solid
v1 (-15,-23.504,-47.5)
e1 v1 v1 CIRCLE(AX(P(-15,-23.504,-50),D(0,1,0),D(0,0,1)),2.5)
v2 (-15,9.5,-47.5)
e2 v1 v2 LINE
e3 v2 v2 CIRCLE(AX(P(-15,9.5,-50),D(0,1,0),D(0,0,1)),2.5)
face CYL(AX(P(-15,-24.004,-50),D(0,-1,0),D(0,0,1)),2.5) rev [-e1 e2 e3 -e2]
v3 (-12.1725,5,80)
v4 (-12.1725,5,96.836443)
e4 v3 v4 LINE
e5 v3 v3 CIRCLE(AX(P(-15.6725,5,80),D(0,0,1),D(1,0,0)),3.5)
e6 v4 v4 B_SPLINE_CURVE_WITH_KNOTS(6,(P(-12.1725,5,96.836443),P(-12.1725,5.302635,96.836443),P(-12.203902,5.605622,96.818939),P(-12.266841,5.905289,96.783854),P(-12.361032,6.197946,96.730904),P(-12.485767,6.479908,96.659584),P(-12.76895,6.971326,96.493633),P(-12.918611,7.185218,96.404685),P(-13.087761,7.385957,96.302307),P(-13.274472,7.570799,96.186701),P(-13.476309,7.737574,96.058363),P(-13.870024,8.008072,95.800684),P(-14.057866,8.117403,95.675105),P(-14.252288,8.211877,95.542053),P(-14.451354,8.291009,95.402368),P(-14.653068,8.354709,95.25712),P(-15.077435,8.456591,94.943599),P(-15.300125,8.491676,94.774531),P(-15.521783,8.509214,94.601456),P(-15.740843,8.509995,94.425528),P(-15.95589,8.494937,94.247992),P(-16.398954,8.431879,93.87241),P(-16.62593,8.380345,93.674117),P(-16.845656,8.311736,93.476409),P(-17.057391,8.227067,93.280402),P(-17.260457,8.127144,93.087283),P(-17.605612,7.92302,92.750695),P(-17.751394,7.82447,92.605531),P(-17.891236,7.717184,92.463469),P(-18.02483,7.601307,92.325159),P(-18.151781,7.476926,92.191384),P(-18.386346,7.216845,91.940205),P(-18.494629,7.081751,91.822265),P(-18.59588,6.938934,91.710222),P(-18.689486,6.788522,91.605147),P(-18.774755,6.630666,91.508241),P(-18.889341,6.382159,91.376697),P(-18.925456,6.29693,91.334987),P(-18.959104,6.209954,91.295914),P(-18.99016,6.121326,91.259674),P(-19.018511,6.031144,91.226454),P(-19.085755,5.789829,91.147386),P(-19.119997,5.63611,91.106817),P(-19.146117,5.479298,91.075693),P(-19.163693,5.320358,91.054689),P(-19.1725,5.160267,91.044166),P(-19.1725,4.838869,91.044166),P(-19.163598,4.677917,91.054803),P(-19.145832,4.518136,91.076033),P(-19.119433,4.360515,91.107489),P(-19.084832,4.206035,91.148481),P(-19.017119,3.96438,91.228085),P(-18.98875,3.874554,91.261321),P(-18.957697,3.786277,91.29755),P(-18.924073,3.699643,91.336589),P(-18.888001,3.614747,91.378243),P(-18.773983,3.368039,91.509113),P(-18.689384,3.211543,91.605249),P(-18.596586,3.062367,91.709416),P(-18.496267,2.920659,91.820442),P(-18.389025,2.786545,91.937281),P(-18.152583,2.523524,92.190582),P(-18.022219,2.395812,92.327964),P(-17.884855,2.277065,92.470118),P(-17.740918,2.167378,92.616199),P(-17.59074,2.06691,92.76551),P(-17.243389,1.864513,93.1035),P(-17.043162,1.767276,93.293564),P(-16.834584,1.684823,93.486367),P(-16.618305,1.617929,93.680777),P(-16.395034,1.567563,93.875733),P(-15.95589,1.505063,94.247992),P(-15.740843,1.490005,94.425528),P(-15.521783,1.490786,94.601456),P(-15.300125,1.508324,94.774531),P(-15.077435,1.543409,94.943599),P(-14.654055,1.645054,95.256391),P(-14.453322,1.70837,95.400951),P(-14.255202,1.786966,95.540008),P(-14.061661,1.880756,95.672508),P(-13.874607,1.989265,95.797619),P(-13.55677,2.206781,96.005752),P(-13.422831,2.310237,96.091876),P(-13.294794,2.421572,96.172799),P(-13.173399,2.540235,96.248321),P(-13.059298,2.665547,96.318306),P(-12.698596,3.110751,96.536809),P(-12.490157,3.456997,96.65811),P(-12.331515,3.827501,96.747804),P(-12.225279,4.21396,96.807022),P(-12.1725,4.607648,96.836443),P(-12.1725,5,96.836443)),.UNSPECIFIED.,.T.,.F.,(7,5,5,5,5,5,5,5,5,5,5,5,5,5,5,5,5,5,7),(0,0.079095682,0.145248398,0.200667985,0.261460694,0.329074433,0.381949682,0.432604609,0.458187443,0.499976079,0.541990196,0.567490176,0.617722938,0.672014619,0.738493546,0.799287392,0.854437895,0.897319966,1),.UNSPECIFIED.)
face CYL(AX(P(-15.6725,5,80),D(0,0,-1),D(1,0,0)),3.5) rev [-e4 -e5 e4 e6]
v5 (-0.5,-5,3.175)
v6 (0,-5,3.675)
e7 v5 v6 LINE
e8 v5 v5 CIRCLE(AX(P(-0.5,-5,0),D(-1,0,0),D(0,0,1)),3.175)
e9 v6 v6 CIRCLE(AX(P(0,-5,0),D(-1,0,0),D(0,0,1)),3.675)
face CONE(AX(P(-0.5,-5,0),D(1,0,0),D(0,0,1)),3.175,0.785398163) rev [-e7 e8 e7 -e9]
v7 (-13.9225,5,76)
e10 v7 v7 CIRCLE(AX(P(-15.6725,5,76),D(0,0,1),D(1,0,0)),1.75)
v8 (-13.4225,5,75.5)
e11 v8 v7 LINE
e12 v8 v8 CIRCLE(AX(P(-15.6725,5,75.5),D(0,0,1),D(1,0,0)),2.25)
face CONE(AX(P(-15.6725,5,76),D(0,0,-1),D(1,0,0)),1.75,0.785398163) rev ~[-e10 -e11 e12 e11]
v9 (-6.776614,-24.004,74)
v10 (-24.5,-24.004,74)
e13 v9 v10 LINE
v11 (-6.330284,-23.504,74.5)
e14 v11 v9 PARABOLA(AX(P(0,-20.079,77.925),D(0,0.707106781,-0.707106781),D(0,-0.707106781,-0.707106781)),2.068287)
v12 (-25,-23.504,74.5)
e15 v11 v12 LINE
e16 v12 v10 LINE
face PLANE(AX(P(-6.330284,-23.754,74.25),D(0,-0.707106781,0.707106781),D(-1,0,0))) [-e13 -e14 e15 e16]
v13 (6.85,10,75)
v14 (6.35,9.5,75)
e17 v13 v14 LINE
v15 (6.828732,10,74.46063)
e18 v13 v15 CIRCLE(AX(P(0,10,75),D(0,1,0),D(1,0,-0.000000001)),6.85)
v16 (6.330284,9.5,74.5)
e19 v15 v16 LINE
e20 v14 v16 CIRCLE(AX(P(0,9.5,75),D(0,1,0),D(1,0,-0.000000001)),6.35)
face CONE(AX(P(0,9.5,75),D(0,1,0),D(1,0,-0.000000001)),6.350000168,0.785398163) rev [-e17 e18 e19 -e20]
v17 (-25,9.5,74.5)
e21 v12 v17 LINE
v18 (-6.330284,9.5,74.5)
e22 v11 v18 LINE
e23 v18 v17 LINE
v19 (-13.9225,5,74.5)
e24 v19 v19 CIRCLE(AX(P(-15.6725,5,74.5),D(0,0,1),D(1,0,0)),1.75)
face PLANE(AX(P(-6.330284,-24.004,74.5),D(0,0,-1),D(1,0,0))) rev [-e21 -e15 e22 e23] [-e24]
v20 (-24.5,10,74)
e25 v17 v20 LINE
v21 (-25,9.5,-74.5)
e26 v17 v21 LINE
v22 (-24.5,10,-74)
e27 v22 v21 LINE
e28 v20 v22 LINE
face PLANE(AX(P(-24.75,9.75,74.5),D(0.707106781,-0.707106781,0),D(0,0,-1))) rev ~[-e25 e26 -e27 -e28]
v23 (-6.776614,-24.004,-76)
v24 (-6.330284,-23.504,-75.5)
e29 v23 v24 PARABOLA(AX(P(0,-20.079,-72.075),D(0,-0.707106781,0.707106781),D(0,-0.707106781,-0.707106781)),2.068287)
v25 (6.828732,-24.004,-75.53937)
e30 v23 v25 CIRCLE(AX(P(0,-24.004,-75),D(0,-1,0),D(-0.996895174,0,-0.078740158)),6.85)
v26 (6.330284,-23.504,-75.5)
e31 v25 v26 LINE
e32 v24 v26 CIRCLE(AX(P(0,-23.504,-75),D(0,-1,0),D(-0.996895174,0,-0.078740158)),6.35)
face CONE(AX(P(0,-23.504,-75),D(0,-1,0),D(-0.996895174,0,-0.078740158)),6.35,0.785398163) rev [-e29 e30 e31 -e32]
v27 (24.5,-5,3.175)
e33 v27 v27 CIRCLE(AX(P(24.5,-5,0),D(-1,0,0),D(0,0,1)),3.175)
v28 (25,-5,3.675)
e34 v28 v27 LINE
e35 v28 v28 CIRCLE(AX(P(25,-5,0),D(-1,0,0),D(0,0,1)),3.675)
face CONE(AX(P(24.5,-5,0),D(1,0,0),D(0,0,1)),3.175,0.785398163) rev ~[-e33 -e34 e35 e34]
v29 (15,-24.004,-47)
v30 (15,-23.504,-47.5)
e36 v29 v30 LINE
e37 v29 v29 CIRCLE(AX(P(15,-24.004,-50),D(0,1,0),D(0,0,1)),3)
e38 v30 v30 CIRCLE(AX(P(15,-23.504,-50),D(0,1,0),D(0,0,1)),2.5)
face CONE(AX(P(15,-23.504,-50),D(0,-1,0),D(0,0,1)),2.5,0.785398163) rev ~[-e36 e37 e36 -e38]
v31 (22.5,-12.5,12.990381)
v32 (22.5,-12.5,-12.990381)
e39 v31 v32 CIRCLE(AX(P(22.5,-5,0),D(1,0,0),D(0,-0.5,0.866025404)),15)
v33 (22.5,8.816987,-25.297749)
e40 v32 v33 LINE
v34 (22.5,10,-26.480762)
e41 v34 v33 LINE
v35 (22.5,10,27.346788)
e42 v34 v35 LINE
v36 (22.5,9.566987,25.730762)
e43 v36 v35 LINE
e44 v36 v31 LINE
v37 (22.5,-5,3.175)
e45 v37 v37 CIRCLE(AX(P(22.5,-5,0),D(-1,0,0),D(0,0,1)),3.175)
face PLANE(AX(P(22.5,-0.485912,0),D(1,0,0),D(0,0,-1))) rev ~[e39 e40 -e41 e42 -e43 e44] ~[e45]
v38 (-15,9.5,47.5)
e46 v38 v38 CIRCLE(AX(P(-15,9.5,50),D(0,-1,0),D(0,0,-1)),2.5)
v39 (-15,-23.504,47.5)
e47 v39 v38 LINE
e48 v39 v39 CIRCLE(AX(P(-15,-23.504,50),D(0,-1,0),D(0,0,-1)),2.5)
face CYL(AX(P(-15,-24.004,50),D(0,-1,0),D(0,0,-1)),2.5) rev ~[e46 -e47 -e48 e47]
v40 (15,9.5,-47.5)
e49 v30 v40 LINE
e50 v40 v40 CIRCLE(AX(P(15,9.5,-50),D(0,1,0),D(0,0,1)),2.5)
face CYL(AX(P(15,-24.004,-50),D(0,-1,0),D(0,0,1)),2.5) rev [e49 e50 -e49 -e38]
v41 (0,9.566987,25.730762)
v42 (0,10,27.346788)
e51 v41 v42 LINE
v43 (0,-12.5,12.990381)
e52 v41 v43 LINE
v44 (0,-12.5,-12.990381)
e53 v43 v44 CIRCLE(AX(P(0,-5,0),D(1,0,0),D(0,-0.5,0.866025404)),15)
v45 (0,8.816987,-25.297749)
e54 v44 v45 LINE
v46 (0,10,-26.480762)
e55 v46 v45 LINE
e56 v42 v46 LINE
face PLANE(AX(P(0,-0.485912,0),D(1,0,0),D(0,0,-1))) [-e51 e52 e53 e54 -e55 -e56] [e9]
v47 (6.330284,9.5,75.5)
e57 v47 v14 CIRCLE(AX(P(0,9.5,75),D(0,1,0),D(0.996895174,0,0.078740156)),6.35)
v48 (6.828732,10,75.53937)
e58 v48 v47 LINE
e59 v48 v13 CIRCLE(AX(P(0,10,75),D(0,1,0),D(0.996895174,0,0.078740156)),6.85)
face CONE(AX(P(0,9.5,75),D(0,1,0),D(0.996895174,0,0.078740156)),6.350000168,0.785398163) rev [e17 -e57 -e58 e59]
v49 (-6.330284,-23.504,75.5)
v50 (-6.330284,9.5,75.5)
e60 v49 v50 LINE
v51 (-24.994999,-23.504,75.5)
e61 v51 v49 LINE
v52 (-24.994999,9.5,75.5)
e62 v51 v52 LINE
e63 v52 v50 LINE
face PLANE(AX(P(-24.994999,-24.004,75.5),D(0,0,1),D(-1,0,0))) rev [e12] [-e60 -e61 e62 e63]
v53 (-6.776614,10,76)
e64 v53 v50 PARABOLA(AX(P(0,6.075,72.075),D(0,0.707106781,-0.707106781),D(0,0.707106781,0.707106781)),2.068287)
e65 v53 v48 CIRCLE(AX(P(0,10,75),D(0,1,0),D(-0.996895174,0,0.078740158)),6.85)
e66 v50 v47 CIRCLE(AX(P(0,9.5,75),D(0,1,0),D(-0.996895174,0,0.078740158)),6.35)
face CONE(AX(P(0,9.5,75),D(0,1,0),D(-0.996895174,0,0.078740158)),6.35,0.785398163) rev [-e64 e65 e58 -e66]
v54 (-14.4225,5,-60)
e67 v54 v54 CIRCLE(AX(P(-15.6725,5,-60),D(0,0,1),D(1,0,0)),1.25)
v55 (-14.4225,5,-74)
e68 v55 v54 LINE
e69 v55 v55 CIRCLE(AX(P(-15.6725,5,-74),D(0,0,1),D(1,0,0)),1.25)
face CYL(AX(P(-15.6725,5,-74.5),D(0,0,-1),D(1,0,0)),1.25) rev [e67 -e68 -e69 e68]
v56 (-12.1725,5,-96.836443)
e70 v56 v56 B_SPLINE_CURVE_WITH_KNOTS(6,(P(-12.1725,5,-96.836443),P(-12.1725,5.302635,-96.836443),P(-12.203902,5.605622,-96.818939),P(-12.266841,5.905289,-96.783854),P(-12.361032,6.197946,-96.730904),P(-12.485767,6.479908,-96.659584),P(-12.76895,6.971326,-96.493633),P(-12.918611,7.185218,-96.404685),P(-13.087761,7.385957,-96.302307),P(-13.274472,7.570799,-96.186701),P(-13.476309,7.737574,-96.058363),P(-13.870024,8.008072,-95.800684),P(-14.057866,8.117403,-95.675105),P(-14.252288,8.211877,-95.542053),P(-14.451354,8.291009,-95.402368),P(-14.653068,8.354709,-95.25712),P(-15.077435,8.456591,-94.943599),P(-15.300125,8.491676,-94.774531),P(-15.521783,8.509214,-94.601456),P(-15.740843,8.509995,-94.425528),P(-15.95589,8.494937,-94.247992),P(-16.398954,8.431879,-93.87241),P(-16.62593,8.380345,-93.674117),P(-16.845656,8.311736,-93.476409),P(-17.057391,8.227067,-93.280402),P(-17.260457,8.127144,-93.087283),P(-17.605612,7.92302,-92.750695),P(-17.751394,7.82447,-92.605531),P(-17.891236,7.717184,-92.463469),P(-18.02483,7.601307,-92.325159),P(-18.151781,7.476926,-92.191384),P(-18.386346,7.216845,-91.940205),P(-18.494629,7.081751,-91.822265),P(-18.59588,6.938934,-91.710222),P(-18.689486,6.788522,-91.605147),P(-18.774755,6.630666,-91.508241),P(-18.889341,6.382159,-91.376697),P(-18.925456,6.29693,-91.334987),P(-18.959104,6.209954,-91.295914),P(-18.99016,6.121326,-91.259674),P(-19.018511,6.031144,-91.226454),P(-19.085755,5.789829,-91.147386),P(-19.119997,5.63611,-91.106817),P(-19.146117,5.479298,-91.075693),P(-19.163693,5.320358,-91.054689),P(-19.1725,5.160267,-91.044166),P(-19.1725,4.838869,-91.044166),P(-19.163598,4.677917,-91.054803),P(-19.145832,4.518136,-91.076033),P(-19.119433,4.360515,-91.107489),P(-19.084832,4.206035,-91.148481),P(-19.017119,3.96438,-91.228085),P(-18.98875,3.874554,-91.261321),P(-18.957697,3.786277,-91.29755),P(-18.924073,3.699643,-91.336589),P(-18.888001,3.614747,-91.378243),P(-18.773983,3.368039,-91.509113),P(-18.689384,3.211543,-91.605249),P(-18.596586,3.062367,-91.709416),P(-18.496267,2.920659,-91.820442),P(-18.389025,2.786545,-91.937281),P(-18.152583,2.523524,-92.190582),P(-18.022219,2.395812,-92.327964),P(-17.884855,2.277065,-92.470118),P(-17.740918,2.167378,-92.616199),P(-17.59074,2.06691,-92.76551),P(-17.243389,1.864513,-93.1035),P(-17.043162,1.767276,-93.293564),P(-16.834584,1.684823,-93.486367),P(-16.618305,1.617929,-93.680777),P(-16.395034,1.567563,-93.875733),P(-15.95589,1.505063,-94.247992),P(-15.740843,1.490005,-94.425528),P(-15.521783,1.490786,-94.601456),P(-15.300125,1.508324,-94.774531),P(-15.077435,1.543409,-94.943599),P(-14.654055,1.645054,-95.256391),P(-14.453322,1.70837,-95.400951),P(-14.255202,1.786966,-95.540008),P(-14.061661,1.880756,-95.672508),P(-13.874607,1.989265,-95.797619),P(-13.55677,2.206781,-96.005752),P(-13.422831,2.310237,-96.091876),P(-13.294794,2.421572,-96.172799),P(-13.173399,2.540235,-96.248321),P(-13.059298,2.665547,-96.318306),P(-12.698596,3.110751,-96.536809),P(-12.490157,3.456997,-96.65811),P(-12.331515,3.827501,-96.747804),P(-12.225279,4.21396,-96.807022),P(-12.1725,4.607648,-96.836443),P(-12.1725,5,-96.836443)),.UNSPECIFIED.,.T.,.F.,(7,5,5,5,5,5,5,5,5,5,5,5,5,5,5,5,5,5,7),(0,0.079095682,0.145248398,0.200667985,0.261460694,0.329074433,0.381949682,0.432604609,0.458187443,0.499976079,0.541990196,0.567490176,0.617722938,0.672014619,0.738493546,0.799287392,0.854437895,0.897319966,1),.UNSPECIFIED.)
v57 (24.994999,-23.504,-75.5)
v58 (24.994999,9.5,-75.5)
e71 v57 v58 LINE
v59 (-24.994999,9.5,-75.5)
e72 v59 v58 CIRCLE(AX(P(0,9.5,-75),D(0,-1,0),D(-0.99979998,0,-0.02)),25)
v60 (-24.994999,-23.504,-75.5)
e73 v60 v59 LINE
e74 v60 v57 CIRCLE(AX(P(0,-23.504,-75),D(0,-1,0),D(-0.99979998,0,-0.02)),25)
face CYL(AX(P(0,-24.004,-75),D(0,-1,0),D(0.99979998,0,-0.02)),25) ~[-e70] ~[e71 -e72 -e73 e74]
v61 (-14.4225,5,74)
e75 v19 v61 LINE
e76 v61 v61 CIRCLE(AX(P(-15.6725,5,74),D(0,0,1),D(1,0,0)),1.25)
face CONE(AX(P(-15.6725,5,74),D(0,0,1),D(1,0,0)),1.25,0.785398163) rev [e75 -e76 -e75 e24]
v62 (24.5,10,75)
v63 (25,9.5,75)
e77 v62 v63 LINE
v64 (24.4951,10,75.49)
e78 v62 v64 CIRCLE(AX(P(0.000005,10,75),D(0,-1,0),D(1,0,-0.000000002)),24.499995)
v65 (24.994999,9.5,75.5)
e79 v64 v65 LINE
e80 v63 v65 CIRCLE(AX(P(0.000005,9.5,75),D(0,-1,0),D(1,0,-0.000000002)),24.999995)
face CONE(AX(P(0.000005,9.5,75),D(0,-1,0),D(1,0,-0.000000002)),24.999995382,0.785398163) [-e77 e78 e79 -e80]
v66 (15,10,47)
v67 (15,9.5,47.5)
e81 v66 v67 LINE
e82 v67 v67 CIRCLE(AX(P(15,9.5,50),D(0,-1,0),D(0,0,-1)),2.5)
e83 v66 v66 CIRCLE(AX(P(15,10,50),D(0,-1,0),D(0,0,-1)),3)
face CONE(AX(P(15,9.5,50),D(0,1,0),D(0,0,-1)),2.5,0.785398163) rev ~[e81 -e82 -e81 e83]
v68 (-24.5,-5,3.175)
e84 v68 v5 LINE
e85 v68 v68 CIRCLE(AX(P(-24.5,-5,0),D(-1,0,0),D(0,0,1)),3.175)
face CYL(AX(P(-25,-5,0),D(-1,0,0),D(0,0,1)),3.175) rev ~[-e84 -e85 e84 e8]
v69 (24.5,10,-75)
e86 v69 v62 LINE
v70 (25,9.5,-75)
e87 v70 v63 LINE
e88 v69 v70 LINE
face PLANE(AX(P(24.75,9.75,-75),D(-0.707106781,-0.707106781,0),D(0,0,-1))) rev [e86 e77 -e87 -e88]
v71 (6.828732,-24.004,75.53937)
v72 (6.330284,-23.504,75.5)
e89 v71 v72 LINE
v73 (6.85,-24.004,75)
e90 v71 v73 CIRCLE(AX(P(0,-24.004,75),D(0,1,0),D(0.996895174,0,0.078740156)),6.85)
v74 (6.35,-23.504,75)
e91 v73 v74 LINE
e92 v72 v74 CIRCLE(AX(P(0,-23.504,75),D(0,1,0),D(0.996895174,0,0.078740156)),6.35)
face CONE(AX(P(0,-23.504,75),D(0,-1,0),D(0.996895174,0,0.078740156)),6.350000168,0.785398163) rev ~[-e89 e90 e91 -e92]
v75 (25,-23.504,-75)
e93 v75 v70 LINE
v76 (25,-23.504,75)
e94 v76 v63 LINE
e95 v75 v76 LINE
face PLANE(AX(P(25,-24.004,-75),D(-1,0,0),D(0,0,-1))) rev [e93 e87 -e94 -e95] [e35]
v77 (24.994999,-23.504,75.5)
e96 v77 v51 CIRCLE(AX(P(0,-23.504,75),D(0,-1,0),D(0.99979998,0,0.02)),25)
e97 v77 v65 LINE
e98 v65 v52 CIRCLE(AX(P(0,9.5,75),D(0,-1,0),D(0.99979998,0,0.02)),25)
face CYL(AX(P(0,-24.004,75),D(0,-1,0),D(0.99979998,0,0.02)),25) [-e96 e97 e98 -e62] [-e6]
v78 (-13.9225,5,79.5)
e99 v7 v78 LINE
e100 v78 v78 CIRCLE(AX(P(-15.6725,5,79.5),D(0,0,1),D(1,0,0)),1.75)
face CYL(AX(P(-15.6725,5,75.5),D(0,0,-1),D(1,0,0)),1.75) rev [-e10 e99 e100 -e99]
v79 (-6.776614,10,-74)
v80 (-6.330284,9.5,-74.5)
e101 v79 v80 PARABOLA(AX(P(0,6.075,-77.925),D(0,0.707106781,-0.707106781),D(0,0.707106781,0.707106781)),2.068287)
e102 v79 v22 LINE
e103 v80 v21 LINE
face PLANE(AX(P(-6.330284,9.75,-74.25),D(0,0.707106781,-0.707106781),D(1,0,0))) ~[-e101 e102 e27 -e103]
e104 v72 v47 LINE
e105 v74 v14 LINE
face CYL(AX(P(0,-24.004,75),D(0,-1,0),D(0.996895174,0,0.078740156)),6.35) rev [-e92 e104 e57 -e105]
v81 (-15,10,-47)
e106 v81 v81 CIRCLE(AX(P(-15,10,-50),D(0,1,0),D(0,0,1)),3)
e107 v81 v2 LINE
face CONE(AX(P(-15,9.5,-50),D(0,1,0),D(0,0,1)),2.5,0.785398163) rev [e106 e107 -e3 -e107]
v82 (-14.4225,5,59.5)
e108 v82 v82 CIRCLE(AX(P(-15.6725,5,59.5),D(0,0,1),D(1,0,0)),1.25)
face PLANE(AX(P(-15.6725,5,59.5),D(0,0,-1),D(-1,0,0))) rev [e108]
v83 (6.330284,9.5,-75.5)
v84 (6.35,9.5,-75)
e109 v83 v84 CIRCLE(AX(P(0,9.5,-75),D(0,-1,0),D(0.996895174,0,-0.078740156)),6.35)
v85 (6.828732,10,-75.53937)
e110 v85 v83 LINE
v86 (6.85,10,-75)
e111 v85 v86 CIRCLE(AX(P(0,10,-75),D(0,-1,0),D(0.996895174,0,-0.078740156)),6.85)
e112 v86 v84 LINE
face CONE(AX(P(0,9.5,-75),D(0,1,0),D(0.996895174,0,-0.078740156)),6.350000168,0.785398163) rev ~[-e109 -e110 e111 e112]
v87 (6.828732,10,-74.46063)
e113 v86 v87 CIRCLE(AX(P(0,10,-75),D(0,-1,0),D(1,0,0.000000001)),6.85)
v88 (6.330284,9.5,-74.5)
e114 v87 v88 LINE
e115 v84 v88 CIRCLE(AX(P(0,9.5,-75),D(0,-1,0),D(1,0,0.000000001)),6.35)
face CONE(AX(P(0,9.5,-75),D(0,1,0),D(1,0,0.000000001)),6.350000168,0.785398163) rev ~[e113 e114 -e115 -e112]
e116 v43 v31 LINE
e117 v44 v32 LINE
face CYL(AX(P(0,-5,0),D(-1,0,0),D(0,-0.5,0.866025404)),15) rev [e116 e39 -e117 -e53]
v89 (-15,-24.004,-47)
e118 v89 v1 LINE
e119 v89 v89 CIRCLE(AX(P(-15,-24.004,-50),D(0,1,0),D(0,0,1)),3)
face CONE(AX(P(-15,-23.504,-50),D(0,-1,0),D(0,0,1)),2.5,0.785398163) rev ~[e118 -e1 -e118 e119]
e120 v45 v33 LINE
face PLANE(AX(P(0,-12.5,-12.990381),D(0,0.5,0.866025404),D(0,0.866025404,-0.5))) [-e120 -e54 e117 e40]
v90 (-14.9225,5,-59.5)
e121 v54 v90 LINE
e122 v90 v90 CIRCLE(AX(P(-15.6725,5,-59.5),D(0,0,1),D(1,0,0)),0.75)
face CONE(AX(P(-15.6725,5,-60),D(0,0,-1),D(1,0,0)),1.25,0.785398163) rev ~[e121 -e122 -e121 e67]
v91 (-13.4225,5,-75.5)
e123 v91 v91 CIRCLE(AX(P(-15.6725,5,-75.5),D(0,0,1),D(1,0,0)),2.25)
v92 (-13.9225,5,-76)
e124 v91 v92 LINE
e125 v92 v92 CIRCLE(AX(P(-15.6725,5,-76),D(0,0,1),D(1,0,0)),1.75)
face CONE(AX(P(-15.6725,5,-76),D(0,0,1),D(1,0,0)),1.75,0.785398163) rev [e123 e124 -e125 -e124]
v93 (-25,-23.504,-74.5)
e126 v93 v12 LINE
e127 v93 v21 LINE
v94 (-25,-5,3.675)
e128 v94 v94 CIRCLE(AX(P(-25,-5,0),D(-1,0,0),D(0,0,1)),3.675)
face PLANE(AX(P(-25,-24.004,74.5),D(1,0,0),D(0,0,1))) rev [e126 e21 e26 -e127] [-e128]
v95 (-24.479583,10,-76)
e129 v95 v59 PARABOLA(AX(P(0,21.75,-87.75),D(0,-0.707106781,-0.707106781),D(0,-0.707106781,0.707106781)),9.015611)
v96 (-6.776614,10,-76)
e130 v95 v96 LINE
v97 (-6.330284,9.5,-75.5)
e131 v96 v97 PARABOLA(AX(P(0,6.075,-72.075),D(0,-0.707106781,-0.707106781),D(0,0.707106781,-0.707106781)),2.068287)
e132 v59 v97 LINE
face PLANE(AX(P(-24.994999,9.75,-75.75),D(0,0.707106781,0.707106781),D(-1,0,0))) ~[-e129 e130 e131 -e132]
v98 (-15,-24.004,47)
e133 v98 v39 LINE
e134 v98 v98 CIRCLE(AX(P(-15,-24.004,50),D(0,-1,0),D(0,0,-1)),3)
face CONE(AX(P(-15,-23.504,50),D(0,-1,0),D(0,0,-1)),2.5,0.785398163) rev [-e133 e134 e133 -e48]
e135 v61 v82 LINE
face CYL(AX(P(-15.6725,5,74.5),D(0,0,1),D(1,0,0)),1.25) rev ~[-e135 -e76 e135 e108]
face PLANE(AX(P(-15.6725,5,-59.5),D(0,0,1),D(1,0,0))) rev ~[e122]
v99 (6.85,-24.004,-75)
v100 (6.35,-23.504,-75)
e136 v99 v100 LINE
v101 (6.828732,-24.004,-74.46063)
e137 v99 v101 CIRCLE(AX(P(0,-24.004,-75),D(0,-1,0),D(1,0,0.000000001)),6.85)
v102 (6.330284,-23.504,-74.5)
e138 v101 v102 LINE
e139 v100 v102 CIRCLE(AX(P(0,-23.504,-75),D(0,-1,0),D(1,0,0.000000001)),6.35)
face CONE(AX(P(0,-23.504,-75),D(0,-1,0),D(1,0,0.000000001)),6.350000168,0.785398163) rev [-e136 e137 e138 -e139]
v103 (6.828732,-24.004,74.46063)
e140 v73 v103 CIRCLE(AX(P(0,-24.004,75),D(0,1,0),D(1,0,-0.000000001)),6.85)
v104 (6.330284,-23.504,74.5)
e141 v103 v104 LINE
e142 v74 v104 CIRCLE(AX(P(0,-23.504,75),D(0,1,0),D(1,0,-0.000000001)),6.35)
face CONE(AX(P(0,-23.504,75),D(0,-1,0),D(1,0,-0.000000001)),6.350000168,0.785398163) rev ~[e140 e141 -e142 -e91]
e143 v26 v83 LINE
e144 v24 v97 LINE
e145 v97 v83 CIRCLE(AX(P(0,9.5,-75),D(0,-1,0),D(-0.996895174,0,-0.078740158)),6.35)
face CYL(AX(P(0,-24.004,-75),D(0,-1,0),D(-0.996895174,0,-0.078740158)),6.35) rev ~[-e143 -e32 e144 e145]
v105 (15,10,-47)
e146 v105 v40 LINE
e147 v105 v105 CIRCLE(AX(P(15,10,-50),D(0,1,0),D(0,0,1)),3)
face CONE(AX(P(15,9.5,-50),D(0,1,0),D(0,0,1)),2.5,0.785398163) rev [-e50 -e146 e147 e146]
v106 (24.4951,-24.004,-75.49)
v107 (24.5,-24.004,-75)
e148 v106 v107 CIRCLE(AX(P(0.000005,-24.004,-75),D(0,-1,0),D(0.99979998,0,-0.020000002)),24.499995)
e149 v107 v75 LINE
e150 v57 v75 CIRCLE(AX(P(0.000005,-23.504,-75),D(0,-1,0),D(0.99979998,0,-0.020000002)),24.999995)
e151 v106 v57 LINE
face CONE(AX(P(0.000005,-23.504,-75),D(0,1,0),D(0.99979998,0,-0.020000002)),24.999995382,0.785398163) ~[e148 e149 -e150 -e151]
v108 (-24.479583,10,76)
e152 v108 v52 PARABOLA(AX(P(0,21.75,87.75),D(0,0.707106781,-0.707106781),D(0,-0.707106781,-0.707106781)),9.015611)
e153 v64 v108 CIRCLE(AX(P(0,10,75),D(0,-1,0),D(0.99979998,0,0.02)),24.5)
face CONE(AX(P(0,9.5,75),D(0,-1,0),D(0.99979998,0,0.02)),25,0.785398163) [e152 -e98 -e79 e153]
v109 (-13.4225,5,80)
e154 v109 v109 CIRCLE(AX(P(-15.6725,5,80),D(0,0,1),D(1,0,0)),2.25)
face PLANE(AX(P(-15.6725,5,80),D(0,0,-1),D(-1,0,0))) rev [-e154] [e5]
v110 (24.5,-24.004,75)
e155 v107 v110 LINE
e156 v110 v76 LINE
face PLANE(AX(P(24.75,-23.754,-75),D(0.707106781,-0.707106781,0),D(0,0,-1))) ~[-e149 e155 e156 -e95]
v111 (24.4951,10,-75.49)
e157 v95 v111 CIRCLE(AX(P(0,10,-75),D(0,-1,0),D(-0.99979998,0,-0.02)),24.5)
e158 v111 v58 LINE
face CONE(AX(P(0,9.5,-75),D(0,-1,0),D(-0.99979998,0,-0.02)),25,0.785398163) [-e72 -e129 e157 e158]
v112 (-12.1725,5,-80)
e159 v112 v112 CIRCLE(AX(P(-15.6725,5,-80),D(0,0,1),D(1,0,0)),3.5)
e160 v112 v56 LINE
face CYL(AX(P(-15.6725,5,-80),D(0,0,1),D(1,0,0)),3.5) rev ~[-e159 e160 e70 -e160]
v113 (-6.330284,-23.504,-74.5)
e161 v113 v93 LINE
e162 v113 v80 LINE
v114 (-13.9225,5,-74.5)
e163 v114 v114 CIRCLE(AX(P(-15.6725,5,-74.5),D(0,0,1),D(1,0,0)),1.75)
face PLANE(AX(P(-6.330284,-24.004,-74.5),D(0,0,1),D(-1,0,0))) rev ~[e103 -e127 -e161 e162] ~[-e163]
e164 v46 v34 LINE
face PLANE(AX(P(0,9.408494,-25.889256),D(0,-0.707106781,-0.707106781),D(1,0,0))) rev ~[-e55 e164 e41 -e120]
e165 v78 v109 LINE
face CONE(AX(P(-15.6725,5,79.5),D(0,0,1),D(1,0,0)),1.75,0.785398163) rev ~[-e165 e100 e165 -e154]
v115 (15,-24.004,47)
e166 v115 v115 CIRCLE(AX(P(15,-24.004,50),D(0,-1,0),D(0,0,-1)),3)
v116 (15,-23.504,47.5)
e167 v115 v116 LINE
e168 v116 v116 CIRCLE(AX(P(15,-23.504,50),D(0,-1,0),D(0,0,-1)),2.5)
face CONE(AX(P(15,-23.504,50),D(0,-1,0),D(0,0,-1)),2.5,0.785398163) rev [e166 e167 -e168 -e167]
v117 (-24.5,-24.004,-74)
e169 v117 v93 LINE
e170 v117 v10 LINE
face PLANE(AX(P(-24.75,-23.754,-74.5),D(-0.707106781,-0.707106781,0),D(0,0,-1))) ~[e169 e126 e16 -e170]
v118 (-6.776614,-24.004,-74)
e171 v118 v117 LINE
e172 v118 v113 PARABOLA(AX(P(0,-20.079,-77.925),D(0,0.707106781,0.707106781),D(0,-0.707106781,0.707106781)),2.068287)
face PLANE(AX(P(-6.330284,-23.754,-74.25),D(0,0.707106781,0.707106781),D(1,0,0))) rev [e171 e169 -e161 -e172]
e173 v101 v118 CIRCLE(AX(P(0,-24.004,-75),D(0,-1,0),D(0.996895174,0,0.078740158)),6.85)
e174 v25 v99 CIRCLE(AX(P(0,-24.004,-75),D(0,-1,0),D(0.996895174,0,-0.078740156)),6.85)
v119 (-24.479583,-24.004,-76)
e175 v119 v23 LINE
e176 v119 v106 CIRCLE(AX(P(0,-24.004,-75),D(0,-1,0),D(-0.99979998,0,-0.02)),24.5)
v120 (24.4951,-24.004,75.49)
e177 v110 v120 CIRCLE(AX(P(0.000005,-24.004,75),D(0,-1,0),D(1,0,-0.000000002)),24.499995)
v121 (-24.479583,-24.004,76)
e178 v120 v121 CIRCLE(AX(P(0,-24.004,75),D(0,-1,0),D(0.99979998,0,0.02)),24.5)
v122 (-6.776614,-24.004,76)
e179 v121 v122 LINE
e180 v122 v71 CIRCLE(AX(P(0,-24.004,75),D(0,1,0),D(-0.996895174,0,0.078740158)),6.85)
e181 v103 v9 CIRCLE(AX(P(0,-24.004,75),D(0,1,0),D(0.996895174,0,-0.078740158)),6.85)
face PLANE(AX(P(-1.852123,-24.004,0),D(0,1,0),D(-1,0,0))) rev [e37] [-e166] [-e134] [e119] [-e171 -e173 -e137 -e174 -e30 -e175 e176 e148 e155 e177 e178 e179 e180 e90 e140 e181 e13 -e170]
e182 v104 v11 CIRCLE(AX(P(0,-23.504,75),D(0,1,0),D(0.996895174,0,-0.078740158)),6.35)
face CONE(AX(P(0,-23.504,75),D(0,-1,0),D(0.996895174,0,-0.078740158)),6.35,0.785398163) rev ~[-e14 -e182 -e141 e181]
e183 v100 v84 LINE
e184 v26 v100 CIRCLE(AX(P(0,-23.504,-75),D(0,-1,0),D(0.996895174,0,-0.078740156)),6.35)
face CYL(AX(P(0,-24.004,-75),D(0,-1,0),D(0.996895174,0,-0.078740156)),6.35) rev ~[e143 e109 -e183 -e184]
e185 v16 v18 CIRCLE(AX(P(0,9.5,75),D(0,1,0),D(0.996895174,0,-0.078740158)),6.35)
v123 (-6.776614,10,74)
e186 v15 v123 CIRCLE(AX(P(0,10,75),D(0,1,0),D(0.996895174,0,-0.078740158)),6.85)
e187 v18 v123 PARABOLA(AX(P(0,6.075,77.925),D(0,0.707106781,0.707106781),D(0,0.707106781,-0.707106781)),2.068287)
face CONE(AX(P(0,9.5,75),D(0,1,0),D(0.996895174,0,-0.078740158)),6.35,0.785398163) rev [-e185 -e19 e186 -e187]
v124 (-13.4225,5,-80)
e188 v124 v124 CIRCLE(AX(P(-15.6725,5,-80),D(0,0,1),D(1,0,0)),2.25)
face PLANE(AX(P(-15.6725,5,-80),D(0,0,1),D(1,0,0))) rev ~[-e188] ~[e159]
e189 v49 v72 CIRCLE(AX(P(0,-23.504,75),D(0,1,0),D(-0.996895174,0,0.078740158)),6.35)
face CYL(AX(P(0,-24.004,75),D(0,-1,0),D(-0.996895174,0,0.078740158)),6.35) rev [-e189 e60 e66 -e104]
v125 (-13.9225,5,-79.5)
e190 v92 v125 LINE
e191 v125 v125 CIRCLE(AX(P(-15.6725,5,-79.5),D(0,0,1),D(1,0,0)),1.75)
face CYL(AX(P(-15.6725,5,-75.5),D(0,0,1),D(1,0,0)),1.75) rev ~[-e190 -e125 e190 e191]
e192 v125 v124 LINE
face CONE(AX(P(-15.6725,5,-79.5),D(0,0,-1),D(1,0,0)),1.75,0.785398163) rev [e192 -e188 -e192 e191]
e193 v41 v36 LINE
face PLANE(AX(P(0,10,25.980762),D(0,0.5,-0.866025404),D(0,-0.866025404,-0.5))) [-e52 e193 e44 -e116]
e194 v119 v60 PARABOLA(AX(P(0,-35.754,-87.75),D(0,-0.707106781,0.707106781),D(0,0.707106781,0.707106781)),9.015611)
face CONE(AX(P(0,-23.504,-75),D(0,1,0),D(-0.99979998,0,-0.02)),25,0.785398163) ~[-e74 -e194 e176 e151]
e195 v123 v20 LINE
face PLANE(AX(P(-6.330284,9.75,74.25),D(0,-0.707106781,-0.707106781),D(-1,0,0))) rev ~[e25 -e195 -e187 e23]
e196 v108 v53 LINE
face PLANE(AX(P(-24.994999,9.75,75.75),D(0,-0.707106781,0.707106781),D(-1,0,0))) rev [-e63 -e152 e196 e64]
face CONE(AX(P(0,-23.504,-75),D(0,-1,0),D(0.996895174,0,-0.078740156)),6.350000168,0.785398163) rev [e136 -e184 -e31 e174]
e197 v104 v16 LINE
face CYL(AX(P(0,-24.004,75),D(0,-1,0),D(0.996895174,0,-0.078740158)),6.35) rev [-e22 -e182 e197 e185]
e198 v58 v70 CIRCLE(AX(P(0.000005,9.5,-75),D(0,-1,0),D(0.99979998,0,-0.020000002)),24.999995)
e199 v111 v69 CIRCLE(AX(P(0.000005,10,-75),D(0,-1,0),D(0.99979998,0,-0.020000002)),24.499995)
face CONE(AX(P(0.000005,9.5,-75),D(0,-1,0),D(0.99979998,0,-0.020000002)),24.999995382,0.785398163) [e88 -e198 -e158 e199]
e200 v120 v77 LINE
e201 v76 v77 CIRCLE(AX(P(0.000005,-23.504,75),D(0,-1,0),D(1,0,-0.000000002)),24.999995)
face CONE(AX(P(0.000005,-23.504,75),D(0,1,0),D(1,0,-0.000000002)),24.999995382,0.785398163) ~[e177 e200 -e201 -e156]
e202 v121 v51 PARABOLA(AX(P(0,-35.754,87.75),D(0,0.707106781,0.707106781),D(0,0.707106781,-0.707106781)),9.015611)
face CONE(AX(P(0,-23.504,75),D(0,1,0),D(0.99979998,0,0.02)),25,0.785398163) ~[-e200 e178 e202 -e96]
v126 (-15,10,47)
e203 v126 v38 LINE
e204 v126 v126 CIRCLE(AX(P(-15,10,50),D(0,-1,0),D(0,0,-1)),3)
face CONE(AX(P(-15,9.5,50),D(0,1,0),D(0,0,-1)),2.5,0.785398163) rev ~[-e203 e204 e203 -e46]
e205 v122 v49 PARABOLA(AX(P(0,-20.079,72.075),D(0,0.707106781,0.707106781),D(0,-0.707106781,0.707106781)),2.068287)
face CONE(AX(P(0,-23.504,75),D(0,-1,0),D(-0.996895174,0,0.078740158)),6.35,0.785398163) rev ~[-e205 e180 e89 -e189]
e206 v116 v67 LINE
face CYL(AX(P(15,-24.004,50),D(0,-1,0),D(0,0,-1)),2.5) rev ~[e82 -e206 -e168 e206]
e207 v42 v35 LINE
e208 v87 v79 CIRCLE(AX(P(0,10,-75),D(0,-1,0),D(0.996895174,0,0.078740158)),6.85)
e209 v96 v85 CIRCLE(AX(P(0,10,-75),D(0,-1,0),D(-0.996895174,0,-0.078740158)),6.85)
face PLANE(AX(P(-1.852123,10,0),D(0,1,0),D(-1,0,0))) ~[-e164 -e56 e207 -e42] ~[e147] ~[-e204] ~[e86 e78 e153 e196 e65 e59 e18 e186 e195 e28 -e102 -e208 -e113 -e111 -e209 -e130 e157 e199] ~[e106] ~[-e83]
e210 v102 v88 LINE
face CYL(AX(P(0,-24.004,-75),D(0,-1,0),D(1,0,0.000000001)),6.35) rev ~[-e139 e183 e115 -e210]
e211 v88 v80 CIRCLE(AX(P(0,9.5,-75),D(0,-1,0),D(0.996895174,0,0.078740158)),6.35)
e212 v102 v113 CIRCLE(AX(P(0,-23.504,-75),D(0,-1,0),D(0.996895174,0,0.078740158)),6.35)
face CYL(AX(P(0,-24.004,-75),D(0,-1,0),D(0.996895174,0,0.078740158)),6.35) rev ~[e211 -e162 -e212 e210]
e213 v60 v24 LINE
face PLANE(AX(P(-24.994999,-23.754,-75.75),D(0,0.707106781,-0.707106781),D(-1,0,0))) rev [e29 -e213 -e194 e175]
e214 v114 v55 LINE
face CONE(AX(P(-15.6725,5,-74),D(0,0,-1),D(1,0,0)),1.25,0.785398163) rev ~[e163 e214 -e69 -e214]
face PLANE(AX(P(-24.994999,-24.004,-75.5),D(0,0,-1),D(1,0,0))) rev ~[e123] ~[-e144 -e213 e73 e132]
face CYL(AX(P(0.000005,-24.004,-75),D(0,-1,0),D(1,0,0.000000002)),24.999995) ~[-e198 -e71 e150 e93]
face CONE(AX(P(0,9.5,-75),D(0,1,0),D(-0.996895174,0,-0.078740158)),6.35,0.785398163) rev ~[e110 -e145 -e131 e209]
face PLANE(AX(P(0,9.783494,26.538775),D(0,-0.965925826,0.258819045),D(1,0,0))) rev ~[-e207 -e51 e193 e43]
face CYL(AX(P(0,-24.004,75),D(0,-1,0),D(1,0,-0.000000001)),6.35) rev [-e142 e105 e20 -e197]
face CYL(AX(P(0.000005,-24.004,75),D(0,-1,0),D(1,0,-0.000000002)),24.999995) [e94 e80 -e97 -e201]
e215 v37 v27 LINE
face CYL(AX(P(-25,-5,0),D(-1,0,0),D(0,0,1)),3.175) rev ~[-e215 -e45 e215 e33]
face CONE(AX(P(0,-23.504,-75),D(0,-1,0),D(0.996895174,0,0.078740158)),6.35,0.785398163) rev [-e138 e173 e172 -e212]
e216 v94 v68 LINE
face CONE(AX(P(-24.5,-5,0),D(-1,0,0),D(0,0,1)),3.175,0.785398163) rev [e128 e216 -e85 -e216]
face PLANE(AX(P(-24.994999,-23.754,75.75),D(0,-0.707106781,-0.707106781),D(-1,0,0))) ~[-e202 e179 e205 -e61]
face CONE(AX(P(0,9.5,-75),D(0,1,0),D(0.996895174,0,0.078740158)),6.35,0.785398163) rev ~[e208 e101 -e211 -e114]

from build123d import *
from OCP.BRepFilletAPI import BRepFilletAPI_MakeChamfer

# Parameters (mm, degrees)
BOSS_EXTRUDE1_DEPTH      = 10
BOSS_EXTRUDE1_DEPTH_BACK = 24.004
SKETCH1_R                = 2.5
CUT_EXTRUDE1_START       = -80
SKETCH2_R                = 3.5
SKETCH2_R_2              = 1.75
SKETCH2_R_3              = 1.25
CUT_EXTRUDE1_DEPTH       = 26.835684039
CUT_EXTRUDE2_START       = -75.5
SKETCH2_6_R              = 1.75
SKETCH2_6_R_2            = 1.25
CUT_EXTRUDE2_DEPTH       = 31.33568418
CUT_EXTRUDE3_START       = -74.5
SKETCH2_7_R              = 1.25
CUT_EXTRUDE3_DEPTH       = 15
SKETCH3_W                = 57.958934366
SKETCH3_H                = 38.963082507
CUT_EXTRUDE4_DEPTH       = 106.83568418
CUT_EXTRUDE5_START       = -25
SKETCH4_R                = 3.175
CUT_EXTRUDE5_DEPTH       = 22.5
SKETCH4_2_R              = 3.175
CUT_EXTRUDE6_DEPTH       = 115.351178616
CHAMFER1_SIZE            = 0.5
CHAMFER1_SIZE2           = 1.366025404


with BuildPart() as part:
    # Sketch1 → Boss-Extrude1 (new, two sides: drawn at the far end of the back side and taken through both)
    with BuildSketch(Plane(origin=(0, 0, 0), x_dir=(1, 0, 0), z_dir=(0, 1, 0)).offset(-BOSS_EXTRUDE1_DEPTH_BACK)):
        with BuildLine():
            Line((-25, 74.5), (-25, -74.5))
            Line((-25, -74.5), (-6.330284354, -74.5))
            ThreePointArc((-6.330284354, -74.5), (0, -68.65), (6.330284354, -74.5))
            ThreePointArc((6.330284354, -74.5), (6.345069174, -74.749805722), (6.35, -75))
            ThreePointArc((6.35, -75), (6.345069174, -75.250194278), (6.330284354, -75.5))
            ThreePointArc((6.330284354, -75.5), (0, -81.35), (-6.330284354, -75.5))
            Line((-6.330284354, -75.5), (-24.9949995, -75.5))
            ThreePointArc((-24.9949995, -75.5), (0, -100), (24.9949995, -75.5))
            ThreePointArc((24.9949995, -75.5), (24.998749844, -75.250012502), (25, -75))
            Line((25, -75), (25, 75))
            ThreePointArc((25, 75), (24.998749844, 75.250012502), (24.9949995, 75.5))
            ThreePointArc((24.9949995, 75.5), (0, 100), (-24.9949995, 75.5))
            Line((-24.9949995, 75.5), (-6.330284354, 75.5))
            ThreePointArc((-6.330284354, 75.5), (0, 81.35), (6.330284354, 75.5))
            ThreePointArc((6.330284354, 75.5), (6.345069174, 75.250194278), (6.35, 75))
            ThreePointArc((6.35, 75), (6.345069174, 74.749805722), (6.330284354, 74.5))
            ThreePointArc((6.330284354, 74.5), (0, 68.65), (-6.330284354, 74.5))
            Line((-6.330284354, 74.5), (-25, 74.5))
        make_face()
        with Locations(Location((-15, -50, 0), (0, 0, 270))):
            Circle(SKETCH1_R, mode=Mode.SUBTRACT)
        with Locations(Location((15, -50, 0), (0, 0, 270))):
            Circle(SKETCH1_R, mode=Mode.SUBTRACT)
        with Locations(Location((-15, 50, 0), (0, 0, 270))):
            Circle(SKETCH1_R, mode=Mode.SUBTRACT)
        with Locations(Location((15, 50, 0), (0, 0, 270))):
            Circle(SKETCH1_R, mode=Mode.SUBTRACT)
    extrude(amount=BOSS_EXTRUDE1_DEPTH + BOSS_EXTRUDE1_DEPTH_BACK)

    # Sketch2 → Cut-Extrude1 (cut, through all)
    # profile 1 of 3: a face of its own
    with BuildSketch(Plane.XY.offset(CUT_EXTRUDE1_START)):
        with Locations((-15.67249975, 5)):
            Circle(SKETCH2_R)
        with Locations((-15.67249975, 5)):
            Circle(SKETCH2_R_2, mode=Mode.SUBTRACT)
    # profile 2 of 3: a face of its own
    with BuildSketch(Plane.XY.offset(CUT_EXTRUDE1_START)):
        with Locations((-15.67249975, 5)):
            Circle(SKETCH2_R_2)
        with Locations((-15.67249975, 5)):
            Circle(SKETCH2_R_3, mode=Mode.SUBTRACT)
    # profile 3 of 3: a face of its own
    with BuildSketch(Plane.XY.offset(CUT_EXTRUDE1_START)):
        with Locations((-15.67249975, 5)):
            Circle(SKETCH2_R_3)
    extrude(amount=-CUT_EXTRUDE1_DEPTH, mode=Mode.SUBTRACT)

    # Sketch2<6> → Cut-Extrude2 (cut, through all)
    # profile 1 of 2: a face of its own
    with BuildSketch(Plane.XY.offset(CUT_EXTRUDE2_START)):
        with Locations((-15.67249975, 5)):
            Circle(SKETCH2_6_R)
        with Locations((-15.67249975, 5)):
            Circle(SKETCH2_6_R_2, mode=Mode.SUBTRACT)
    # profile 2 of 2: a face of its own
    with BuildSketch(Plane.XY.offset(CUT_EXTRUDE2_START)):
        with Locations((-15.67249975, 5)):
            Circle(SKETCH2_6_R_2)
    extrude(amount=-CUT_EXTRUDE2_DEPTH, mode=Mode.SUBTRACT)

    # Sketch2<7> → Cut-Extrude3 (cut)
    with BuildSketch(Plane.XY.offset(CUT_EXTRUDE3_START)):
        with Locations((-15.67249975, 5)):
            Circle(SKETCH2_7_R)
    extrude(amount=CUT_EXTRUDE3_DEPTH, mode=Mode.SUBTRACT)

    # Sketch3 → Cut-Extrude4 (cut, through all)
    with BuildSketch(Plane.XY):
        with Locations((1.618964647, -7.082948233)):
            Rectangle(SKETCH3_W, SKETCH3_H)
    extrude(amount=CUT_EXTRUDE4_DEPTH, mode=Mode.SUBTRACT)

    # Mirror1: part across plane


with BuildPart() as part_1:
    add(part.part)
    add(part.part.mirror(Plane.XY))

    # Sketch4 → Cut-Extrude5 (cut)
    with BuildSketch(Plane.ZY.offset(25).offset(CUT_EXTRUDE5_START)):
        with BuildLine():
            Line((-25.980762114, 10), (25.980762114, 10))
            Line((25.980762114, 10), (12.990381057, -12.5))
            ThreePointArc((12.990381057, -12.5), (0, -20), (-12.990381057, -12.5))
            Line((-12.990381057, -12.5), (-25.980762114, 10))
        make_face()
        with Locations((0, -5)):
            Circle(SKETCH4_R, mode=Mode.SUBTRACT)
    extrude(amount=-CUT_EXTRUDE5_DEPTH, mode=Mode.SUBTRACT)

    # Sketch4<2> → Cut-Extrude6 (cut, through all)
    with BuildSketch(Plane.ZY.offset(25)):
        with Locations((0, -5)):
            Circle(SKETCH4_2_R)
    extrude(amount=-CUT_EXTRUDE6_DEPTH, mode=Mode.SUBTRACT)

    # Chamfer1: one chamfer whose edges measure the first distance from different faces: ONE call of the kernel's chamfer builder (chamfer() names one face for all edges)
    chamfer1_edges_1 = [part_1.edges().sort_by_distance(p)[0] for p in [
        (15, -24.004, -52.5),
        (0.250012502, -24.004, 99.998749844),
        (-15.662641927, -24.004, 75.5),
        (-15, 10, 52.5),
        (15, 10, 52.5),
        (-15.665142177, 10, 74.5),
        (0.5, 10, 81.330284354),
        (-15.665142177, -24.004, 74.5),
        (0.5, -24.004, 81.330284354),
        (-17.42249975, 5, 75.5),
        (-15.662641927, 10, 75.5),
        (-15, -24.004, 52.5),
        (15, -24.004, 52.5),
        (0.250012502, 10, 99.998749844),
        (-17.42249975, 5, 80),
        (-16.92249975, 5, 74.5),
        (0, -5, -3.175),
        (25, -7.24506403, 2.24506403),
        (-25, -2.75493597, 2.24506403),
        (-15, -24.004, -52.5),
        (0.250012502, -24.004, -99.998749844),
        (0.5, 10, -81.330284354),
        (-15.665142177, 10, -74.5),
        (-15.662641927, -24.004, -75.5),
        (-15, 10, -52.5),
        (15, 10, -52.5),
        (0.250012502, 10, -99.998749844),
        (-15.662641927, 10, -75.5),
        (0.5, -24.004, -81.330284354),
        (-15.665142177, -24.004, -74.5),
        (-17.42249975, 5, -80),
        (-17.42249975, 5, -75.5),
        (-16.92249975, 5, -74.5),
        (-16.92249975, 5, -59.5),
        (25, 10, -37.5),
        (-25, 10, -37.25),
        (25, -24.004, 37.5),
        (-25, -24.004, -37.25),
    ]]
    chamfer1_edges_2 = [part_1.edges().sort_by_distance(p)[0] for p in [
        (11.25, 10, -25.980762114),
    ]]
    chamfer1_side_2 = [part_1.faces().sort_by_distance(p)[0] for p in [
        (-1.58584153, 10, 0),
    ]]
    chamfer1_edges_3 = [part_1.edges().sort_by_distance(p)[0] for p in [
        (11.25, 10, 25.980762114),
    ]]
    chamfer1_side_3 = [part_1.faces().sort_by_distance(p)[0] for p in [
        (11.25, -1.25, 19.485571585),
    ]]
    chamfer1 = BRepFilletAPI_MakeChamfer(part_1.part.solid().wrapped)
    for e in chamfer1_edges_1:
        chamfer1.Add(CHAMFER1_SIZE, e.wrapped)
    for e in chamfer1_edges_2:
        chamfer1.Add(CHAMFER1_SIZE, CHAMFER1_SIZE2, e.wrapped, chamfer1_side_2[0].wrapped)  # the first distance lies on this face
    for e in chamfer1_edges_3:
        chamfer1.Add(CHAMFER1_SIZE, CHAMFER1_SIZE2, e.wrapped, chamfer1_side_3[0].wrapped)  # the first distance lies on this face
    add(Compound.cast(chamfer1.Shape()), mode=Mode.REPLACE)


solid = part_1.part
